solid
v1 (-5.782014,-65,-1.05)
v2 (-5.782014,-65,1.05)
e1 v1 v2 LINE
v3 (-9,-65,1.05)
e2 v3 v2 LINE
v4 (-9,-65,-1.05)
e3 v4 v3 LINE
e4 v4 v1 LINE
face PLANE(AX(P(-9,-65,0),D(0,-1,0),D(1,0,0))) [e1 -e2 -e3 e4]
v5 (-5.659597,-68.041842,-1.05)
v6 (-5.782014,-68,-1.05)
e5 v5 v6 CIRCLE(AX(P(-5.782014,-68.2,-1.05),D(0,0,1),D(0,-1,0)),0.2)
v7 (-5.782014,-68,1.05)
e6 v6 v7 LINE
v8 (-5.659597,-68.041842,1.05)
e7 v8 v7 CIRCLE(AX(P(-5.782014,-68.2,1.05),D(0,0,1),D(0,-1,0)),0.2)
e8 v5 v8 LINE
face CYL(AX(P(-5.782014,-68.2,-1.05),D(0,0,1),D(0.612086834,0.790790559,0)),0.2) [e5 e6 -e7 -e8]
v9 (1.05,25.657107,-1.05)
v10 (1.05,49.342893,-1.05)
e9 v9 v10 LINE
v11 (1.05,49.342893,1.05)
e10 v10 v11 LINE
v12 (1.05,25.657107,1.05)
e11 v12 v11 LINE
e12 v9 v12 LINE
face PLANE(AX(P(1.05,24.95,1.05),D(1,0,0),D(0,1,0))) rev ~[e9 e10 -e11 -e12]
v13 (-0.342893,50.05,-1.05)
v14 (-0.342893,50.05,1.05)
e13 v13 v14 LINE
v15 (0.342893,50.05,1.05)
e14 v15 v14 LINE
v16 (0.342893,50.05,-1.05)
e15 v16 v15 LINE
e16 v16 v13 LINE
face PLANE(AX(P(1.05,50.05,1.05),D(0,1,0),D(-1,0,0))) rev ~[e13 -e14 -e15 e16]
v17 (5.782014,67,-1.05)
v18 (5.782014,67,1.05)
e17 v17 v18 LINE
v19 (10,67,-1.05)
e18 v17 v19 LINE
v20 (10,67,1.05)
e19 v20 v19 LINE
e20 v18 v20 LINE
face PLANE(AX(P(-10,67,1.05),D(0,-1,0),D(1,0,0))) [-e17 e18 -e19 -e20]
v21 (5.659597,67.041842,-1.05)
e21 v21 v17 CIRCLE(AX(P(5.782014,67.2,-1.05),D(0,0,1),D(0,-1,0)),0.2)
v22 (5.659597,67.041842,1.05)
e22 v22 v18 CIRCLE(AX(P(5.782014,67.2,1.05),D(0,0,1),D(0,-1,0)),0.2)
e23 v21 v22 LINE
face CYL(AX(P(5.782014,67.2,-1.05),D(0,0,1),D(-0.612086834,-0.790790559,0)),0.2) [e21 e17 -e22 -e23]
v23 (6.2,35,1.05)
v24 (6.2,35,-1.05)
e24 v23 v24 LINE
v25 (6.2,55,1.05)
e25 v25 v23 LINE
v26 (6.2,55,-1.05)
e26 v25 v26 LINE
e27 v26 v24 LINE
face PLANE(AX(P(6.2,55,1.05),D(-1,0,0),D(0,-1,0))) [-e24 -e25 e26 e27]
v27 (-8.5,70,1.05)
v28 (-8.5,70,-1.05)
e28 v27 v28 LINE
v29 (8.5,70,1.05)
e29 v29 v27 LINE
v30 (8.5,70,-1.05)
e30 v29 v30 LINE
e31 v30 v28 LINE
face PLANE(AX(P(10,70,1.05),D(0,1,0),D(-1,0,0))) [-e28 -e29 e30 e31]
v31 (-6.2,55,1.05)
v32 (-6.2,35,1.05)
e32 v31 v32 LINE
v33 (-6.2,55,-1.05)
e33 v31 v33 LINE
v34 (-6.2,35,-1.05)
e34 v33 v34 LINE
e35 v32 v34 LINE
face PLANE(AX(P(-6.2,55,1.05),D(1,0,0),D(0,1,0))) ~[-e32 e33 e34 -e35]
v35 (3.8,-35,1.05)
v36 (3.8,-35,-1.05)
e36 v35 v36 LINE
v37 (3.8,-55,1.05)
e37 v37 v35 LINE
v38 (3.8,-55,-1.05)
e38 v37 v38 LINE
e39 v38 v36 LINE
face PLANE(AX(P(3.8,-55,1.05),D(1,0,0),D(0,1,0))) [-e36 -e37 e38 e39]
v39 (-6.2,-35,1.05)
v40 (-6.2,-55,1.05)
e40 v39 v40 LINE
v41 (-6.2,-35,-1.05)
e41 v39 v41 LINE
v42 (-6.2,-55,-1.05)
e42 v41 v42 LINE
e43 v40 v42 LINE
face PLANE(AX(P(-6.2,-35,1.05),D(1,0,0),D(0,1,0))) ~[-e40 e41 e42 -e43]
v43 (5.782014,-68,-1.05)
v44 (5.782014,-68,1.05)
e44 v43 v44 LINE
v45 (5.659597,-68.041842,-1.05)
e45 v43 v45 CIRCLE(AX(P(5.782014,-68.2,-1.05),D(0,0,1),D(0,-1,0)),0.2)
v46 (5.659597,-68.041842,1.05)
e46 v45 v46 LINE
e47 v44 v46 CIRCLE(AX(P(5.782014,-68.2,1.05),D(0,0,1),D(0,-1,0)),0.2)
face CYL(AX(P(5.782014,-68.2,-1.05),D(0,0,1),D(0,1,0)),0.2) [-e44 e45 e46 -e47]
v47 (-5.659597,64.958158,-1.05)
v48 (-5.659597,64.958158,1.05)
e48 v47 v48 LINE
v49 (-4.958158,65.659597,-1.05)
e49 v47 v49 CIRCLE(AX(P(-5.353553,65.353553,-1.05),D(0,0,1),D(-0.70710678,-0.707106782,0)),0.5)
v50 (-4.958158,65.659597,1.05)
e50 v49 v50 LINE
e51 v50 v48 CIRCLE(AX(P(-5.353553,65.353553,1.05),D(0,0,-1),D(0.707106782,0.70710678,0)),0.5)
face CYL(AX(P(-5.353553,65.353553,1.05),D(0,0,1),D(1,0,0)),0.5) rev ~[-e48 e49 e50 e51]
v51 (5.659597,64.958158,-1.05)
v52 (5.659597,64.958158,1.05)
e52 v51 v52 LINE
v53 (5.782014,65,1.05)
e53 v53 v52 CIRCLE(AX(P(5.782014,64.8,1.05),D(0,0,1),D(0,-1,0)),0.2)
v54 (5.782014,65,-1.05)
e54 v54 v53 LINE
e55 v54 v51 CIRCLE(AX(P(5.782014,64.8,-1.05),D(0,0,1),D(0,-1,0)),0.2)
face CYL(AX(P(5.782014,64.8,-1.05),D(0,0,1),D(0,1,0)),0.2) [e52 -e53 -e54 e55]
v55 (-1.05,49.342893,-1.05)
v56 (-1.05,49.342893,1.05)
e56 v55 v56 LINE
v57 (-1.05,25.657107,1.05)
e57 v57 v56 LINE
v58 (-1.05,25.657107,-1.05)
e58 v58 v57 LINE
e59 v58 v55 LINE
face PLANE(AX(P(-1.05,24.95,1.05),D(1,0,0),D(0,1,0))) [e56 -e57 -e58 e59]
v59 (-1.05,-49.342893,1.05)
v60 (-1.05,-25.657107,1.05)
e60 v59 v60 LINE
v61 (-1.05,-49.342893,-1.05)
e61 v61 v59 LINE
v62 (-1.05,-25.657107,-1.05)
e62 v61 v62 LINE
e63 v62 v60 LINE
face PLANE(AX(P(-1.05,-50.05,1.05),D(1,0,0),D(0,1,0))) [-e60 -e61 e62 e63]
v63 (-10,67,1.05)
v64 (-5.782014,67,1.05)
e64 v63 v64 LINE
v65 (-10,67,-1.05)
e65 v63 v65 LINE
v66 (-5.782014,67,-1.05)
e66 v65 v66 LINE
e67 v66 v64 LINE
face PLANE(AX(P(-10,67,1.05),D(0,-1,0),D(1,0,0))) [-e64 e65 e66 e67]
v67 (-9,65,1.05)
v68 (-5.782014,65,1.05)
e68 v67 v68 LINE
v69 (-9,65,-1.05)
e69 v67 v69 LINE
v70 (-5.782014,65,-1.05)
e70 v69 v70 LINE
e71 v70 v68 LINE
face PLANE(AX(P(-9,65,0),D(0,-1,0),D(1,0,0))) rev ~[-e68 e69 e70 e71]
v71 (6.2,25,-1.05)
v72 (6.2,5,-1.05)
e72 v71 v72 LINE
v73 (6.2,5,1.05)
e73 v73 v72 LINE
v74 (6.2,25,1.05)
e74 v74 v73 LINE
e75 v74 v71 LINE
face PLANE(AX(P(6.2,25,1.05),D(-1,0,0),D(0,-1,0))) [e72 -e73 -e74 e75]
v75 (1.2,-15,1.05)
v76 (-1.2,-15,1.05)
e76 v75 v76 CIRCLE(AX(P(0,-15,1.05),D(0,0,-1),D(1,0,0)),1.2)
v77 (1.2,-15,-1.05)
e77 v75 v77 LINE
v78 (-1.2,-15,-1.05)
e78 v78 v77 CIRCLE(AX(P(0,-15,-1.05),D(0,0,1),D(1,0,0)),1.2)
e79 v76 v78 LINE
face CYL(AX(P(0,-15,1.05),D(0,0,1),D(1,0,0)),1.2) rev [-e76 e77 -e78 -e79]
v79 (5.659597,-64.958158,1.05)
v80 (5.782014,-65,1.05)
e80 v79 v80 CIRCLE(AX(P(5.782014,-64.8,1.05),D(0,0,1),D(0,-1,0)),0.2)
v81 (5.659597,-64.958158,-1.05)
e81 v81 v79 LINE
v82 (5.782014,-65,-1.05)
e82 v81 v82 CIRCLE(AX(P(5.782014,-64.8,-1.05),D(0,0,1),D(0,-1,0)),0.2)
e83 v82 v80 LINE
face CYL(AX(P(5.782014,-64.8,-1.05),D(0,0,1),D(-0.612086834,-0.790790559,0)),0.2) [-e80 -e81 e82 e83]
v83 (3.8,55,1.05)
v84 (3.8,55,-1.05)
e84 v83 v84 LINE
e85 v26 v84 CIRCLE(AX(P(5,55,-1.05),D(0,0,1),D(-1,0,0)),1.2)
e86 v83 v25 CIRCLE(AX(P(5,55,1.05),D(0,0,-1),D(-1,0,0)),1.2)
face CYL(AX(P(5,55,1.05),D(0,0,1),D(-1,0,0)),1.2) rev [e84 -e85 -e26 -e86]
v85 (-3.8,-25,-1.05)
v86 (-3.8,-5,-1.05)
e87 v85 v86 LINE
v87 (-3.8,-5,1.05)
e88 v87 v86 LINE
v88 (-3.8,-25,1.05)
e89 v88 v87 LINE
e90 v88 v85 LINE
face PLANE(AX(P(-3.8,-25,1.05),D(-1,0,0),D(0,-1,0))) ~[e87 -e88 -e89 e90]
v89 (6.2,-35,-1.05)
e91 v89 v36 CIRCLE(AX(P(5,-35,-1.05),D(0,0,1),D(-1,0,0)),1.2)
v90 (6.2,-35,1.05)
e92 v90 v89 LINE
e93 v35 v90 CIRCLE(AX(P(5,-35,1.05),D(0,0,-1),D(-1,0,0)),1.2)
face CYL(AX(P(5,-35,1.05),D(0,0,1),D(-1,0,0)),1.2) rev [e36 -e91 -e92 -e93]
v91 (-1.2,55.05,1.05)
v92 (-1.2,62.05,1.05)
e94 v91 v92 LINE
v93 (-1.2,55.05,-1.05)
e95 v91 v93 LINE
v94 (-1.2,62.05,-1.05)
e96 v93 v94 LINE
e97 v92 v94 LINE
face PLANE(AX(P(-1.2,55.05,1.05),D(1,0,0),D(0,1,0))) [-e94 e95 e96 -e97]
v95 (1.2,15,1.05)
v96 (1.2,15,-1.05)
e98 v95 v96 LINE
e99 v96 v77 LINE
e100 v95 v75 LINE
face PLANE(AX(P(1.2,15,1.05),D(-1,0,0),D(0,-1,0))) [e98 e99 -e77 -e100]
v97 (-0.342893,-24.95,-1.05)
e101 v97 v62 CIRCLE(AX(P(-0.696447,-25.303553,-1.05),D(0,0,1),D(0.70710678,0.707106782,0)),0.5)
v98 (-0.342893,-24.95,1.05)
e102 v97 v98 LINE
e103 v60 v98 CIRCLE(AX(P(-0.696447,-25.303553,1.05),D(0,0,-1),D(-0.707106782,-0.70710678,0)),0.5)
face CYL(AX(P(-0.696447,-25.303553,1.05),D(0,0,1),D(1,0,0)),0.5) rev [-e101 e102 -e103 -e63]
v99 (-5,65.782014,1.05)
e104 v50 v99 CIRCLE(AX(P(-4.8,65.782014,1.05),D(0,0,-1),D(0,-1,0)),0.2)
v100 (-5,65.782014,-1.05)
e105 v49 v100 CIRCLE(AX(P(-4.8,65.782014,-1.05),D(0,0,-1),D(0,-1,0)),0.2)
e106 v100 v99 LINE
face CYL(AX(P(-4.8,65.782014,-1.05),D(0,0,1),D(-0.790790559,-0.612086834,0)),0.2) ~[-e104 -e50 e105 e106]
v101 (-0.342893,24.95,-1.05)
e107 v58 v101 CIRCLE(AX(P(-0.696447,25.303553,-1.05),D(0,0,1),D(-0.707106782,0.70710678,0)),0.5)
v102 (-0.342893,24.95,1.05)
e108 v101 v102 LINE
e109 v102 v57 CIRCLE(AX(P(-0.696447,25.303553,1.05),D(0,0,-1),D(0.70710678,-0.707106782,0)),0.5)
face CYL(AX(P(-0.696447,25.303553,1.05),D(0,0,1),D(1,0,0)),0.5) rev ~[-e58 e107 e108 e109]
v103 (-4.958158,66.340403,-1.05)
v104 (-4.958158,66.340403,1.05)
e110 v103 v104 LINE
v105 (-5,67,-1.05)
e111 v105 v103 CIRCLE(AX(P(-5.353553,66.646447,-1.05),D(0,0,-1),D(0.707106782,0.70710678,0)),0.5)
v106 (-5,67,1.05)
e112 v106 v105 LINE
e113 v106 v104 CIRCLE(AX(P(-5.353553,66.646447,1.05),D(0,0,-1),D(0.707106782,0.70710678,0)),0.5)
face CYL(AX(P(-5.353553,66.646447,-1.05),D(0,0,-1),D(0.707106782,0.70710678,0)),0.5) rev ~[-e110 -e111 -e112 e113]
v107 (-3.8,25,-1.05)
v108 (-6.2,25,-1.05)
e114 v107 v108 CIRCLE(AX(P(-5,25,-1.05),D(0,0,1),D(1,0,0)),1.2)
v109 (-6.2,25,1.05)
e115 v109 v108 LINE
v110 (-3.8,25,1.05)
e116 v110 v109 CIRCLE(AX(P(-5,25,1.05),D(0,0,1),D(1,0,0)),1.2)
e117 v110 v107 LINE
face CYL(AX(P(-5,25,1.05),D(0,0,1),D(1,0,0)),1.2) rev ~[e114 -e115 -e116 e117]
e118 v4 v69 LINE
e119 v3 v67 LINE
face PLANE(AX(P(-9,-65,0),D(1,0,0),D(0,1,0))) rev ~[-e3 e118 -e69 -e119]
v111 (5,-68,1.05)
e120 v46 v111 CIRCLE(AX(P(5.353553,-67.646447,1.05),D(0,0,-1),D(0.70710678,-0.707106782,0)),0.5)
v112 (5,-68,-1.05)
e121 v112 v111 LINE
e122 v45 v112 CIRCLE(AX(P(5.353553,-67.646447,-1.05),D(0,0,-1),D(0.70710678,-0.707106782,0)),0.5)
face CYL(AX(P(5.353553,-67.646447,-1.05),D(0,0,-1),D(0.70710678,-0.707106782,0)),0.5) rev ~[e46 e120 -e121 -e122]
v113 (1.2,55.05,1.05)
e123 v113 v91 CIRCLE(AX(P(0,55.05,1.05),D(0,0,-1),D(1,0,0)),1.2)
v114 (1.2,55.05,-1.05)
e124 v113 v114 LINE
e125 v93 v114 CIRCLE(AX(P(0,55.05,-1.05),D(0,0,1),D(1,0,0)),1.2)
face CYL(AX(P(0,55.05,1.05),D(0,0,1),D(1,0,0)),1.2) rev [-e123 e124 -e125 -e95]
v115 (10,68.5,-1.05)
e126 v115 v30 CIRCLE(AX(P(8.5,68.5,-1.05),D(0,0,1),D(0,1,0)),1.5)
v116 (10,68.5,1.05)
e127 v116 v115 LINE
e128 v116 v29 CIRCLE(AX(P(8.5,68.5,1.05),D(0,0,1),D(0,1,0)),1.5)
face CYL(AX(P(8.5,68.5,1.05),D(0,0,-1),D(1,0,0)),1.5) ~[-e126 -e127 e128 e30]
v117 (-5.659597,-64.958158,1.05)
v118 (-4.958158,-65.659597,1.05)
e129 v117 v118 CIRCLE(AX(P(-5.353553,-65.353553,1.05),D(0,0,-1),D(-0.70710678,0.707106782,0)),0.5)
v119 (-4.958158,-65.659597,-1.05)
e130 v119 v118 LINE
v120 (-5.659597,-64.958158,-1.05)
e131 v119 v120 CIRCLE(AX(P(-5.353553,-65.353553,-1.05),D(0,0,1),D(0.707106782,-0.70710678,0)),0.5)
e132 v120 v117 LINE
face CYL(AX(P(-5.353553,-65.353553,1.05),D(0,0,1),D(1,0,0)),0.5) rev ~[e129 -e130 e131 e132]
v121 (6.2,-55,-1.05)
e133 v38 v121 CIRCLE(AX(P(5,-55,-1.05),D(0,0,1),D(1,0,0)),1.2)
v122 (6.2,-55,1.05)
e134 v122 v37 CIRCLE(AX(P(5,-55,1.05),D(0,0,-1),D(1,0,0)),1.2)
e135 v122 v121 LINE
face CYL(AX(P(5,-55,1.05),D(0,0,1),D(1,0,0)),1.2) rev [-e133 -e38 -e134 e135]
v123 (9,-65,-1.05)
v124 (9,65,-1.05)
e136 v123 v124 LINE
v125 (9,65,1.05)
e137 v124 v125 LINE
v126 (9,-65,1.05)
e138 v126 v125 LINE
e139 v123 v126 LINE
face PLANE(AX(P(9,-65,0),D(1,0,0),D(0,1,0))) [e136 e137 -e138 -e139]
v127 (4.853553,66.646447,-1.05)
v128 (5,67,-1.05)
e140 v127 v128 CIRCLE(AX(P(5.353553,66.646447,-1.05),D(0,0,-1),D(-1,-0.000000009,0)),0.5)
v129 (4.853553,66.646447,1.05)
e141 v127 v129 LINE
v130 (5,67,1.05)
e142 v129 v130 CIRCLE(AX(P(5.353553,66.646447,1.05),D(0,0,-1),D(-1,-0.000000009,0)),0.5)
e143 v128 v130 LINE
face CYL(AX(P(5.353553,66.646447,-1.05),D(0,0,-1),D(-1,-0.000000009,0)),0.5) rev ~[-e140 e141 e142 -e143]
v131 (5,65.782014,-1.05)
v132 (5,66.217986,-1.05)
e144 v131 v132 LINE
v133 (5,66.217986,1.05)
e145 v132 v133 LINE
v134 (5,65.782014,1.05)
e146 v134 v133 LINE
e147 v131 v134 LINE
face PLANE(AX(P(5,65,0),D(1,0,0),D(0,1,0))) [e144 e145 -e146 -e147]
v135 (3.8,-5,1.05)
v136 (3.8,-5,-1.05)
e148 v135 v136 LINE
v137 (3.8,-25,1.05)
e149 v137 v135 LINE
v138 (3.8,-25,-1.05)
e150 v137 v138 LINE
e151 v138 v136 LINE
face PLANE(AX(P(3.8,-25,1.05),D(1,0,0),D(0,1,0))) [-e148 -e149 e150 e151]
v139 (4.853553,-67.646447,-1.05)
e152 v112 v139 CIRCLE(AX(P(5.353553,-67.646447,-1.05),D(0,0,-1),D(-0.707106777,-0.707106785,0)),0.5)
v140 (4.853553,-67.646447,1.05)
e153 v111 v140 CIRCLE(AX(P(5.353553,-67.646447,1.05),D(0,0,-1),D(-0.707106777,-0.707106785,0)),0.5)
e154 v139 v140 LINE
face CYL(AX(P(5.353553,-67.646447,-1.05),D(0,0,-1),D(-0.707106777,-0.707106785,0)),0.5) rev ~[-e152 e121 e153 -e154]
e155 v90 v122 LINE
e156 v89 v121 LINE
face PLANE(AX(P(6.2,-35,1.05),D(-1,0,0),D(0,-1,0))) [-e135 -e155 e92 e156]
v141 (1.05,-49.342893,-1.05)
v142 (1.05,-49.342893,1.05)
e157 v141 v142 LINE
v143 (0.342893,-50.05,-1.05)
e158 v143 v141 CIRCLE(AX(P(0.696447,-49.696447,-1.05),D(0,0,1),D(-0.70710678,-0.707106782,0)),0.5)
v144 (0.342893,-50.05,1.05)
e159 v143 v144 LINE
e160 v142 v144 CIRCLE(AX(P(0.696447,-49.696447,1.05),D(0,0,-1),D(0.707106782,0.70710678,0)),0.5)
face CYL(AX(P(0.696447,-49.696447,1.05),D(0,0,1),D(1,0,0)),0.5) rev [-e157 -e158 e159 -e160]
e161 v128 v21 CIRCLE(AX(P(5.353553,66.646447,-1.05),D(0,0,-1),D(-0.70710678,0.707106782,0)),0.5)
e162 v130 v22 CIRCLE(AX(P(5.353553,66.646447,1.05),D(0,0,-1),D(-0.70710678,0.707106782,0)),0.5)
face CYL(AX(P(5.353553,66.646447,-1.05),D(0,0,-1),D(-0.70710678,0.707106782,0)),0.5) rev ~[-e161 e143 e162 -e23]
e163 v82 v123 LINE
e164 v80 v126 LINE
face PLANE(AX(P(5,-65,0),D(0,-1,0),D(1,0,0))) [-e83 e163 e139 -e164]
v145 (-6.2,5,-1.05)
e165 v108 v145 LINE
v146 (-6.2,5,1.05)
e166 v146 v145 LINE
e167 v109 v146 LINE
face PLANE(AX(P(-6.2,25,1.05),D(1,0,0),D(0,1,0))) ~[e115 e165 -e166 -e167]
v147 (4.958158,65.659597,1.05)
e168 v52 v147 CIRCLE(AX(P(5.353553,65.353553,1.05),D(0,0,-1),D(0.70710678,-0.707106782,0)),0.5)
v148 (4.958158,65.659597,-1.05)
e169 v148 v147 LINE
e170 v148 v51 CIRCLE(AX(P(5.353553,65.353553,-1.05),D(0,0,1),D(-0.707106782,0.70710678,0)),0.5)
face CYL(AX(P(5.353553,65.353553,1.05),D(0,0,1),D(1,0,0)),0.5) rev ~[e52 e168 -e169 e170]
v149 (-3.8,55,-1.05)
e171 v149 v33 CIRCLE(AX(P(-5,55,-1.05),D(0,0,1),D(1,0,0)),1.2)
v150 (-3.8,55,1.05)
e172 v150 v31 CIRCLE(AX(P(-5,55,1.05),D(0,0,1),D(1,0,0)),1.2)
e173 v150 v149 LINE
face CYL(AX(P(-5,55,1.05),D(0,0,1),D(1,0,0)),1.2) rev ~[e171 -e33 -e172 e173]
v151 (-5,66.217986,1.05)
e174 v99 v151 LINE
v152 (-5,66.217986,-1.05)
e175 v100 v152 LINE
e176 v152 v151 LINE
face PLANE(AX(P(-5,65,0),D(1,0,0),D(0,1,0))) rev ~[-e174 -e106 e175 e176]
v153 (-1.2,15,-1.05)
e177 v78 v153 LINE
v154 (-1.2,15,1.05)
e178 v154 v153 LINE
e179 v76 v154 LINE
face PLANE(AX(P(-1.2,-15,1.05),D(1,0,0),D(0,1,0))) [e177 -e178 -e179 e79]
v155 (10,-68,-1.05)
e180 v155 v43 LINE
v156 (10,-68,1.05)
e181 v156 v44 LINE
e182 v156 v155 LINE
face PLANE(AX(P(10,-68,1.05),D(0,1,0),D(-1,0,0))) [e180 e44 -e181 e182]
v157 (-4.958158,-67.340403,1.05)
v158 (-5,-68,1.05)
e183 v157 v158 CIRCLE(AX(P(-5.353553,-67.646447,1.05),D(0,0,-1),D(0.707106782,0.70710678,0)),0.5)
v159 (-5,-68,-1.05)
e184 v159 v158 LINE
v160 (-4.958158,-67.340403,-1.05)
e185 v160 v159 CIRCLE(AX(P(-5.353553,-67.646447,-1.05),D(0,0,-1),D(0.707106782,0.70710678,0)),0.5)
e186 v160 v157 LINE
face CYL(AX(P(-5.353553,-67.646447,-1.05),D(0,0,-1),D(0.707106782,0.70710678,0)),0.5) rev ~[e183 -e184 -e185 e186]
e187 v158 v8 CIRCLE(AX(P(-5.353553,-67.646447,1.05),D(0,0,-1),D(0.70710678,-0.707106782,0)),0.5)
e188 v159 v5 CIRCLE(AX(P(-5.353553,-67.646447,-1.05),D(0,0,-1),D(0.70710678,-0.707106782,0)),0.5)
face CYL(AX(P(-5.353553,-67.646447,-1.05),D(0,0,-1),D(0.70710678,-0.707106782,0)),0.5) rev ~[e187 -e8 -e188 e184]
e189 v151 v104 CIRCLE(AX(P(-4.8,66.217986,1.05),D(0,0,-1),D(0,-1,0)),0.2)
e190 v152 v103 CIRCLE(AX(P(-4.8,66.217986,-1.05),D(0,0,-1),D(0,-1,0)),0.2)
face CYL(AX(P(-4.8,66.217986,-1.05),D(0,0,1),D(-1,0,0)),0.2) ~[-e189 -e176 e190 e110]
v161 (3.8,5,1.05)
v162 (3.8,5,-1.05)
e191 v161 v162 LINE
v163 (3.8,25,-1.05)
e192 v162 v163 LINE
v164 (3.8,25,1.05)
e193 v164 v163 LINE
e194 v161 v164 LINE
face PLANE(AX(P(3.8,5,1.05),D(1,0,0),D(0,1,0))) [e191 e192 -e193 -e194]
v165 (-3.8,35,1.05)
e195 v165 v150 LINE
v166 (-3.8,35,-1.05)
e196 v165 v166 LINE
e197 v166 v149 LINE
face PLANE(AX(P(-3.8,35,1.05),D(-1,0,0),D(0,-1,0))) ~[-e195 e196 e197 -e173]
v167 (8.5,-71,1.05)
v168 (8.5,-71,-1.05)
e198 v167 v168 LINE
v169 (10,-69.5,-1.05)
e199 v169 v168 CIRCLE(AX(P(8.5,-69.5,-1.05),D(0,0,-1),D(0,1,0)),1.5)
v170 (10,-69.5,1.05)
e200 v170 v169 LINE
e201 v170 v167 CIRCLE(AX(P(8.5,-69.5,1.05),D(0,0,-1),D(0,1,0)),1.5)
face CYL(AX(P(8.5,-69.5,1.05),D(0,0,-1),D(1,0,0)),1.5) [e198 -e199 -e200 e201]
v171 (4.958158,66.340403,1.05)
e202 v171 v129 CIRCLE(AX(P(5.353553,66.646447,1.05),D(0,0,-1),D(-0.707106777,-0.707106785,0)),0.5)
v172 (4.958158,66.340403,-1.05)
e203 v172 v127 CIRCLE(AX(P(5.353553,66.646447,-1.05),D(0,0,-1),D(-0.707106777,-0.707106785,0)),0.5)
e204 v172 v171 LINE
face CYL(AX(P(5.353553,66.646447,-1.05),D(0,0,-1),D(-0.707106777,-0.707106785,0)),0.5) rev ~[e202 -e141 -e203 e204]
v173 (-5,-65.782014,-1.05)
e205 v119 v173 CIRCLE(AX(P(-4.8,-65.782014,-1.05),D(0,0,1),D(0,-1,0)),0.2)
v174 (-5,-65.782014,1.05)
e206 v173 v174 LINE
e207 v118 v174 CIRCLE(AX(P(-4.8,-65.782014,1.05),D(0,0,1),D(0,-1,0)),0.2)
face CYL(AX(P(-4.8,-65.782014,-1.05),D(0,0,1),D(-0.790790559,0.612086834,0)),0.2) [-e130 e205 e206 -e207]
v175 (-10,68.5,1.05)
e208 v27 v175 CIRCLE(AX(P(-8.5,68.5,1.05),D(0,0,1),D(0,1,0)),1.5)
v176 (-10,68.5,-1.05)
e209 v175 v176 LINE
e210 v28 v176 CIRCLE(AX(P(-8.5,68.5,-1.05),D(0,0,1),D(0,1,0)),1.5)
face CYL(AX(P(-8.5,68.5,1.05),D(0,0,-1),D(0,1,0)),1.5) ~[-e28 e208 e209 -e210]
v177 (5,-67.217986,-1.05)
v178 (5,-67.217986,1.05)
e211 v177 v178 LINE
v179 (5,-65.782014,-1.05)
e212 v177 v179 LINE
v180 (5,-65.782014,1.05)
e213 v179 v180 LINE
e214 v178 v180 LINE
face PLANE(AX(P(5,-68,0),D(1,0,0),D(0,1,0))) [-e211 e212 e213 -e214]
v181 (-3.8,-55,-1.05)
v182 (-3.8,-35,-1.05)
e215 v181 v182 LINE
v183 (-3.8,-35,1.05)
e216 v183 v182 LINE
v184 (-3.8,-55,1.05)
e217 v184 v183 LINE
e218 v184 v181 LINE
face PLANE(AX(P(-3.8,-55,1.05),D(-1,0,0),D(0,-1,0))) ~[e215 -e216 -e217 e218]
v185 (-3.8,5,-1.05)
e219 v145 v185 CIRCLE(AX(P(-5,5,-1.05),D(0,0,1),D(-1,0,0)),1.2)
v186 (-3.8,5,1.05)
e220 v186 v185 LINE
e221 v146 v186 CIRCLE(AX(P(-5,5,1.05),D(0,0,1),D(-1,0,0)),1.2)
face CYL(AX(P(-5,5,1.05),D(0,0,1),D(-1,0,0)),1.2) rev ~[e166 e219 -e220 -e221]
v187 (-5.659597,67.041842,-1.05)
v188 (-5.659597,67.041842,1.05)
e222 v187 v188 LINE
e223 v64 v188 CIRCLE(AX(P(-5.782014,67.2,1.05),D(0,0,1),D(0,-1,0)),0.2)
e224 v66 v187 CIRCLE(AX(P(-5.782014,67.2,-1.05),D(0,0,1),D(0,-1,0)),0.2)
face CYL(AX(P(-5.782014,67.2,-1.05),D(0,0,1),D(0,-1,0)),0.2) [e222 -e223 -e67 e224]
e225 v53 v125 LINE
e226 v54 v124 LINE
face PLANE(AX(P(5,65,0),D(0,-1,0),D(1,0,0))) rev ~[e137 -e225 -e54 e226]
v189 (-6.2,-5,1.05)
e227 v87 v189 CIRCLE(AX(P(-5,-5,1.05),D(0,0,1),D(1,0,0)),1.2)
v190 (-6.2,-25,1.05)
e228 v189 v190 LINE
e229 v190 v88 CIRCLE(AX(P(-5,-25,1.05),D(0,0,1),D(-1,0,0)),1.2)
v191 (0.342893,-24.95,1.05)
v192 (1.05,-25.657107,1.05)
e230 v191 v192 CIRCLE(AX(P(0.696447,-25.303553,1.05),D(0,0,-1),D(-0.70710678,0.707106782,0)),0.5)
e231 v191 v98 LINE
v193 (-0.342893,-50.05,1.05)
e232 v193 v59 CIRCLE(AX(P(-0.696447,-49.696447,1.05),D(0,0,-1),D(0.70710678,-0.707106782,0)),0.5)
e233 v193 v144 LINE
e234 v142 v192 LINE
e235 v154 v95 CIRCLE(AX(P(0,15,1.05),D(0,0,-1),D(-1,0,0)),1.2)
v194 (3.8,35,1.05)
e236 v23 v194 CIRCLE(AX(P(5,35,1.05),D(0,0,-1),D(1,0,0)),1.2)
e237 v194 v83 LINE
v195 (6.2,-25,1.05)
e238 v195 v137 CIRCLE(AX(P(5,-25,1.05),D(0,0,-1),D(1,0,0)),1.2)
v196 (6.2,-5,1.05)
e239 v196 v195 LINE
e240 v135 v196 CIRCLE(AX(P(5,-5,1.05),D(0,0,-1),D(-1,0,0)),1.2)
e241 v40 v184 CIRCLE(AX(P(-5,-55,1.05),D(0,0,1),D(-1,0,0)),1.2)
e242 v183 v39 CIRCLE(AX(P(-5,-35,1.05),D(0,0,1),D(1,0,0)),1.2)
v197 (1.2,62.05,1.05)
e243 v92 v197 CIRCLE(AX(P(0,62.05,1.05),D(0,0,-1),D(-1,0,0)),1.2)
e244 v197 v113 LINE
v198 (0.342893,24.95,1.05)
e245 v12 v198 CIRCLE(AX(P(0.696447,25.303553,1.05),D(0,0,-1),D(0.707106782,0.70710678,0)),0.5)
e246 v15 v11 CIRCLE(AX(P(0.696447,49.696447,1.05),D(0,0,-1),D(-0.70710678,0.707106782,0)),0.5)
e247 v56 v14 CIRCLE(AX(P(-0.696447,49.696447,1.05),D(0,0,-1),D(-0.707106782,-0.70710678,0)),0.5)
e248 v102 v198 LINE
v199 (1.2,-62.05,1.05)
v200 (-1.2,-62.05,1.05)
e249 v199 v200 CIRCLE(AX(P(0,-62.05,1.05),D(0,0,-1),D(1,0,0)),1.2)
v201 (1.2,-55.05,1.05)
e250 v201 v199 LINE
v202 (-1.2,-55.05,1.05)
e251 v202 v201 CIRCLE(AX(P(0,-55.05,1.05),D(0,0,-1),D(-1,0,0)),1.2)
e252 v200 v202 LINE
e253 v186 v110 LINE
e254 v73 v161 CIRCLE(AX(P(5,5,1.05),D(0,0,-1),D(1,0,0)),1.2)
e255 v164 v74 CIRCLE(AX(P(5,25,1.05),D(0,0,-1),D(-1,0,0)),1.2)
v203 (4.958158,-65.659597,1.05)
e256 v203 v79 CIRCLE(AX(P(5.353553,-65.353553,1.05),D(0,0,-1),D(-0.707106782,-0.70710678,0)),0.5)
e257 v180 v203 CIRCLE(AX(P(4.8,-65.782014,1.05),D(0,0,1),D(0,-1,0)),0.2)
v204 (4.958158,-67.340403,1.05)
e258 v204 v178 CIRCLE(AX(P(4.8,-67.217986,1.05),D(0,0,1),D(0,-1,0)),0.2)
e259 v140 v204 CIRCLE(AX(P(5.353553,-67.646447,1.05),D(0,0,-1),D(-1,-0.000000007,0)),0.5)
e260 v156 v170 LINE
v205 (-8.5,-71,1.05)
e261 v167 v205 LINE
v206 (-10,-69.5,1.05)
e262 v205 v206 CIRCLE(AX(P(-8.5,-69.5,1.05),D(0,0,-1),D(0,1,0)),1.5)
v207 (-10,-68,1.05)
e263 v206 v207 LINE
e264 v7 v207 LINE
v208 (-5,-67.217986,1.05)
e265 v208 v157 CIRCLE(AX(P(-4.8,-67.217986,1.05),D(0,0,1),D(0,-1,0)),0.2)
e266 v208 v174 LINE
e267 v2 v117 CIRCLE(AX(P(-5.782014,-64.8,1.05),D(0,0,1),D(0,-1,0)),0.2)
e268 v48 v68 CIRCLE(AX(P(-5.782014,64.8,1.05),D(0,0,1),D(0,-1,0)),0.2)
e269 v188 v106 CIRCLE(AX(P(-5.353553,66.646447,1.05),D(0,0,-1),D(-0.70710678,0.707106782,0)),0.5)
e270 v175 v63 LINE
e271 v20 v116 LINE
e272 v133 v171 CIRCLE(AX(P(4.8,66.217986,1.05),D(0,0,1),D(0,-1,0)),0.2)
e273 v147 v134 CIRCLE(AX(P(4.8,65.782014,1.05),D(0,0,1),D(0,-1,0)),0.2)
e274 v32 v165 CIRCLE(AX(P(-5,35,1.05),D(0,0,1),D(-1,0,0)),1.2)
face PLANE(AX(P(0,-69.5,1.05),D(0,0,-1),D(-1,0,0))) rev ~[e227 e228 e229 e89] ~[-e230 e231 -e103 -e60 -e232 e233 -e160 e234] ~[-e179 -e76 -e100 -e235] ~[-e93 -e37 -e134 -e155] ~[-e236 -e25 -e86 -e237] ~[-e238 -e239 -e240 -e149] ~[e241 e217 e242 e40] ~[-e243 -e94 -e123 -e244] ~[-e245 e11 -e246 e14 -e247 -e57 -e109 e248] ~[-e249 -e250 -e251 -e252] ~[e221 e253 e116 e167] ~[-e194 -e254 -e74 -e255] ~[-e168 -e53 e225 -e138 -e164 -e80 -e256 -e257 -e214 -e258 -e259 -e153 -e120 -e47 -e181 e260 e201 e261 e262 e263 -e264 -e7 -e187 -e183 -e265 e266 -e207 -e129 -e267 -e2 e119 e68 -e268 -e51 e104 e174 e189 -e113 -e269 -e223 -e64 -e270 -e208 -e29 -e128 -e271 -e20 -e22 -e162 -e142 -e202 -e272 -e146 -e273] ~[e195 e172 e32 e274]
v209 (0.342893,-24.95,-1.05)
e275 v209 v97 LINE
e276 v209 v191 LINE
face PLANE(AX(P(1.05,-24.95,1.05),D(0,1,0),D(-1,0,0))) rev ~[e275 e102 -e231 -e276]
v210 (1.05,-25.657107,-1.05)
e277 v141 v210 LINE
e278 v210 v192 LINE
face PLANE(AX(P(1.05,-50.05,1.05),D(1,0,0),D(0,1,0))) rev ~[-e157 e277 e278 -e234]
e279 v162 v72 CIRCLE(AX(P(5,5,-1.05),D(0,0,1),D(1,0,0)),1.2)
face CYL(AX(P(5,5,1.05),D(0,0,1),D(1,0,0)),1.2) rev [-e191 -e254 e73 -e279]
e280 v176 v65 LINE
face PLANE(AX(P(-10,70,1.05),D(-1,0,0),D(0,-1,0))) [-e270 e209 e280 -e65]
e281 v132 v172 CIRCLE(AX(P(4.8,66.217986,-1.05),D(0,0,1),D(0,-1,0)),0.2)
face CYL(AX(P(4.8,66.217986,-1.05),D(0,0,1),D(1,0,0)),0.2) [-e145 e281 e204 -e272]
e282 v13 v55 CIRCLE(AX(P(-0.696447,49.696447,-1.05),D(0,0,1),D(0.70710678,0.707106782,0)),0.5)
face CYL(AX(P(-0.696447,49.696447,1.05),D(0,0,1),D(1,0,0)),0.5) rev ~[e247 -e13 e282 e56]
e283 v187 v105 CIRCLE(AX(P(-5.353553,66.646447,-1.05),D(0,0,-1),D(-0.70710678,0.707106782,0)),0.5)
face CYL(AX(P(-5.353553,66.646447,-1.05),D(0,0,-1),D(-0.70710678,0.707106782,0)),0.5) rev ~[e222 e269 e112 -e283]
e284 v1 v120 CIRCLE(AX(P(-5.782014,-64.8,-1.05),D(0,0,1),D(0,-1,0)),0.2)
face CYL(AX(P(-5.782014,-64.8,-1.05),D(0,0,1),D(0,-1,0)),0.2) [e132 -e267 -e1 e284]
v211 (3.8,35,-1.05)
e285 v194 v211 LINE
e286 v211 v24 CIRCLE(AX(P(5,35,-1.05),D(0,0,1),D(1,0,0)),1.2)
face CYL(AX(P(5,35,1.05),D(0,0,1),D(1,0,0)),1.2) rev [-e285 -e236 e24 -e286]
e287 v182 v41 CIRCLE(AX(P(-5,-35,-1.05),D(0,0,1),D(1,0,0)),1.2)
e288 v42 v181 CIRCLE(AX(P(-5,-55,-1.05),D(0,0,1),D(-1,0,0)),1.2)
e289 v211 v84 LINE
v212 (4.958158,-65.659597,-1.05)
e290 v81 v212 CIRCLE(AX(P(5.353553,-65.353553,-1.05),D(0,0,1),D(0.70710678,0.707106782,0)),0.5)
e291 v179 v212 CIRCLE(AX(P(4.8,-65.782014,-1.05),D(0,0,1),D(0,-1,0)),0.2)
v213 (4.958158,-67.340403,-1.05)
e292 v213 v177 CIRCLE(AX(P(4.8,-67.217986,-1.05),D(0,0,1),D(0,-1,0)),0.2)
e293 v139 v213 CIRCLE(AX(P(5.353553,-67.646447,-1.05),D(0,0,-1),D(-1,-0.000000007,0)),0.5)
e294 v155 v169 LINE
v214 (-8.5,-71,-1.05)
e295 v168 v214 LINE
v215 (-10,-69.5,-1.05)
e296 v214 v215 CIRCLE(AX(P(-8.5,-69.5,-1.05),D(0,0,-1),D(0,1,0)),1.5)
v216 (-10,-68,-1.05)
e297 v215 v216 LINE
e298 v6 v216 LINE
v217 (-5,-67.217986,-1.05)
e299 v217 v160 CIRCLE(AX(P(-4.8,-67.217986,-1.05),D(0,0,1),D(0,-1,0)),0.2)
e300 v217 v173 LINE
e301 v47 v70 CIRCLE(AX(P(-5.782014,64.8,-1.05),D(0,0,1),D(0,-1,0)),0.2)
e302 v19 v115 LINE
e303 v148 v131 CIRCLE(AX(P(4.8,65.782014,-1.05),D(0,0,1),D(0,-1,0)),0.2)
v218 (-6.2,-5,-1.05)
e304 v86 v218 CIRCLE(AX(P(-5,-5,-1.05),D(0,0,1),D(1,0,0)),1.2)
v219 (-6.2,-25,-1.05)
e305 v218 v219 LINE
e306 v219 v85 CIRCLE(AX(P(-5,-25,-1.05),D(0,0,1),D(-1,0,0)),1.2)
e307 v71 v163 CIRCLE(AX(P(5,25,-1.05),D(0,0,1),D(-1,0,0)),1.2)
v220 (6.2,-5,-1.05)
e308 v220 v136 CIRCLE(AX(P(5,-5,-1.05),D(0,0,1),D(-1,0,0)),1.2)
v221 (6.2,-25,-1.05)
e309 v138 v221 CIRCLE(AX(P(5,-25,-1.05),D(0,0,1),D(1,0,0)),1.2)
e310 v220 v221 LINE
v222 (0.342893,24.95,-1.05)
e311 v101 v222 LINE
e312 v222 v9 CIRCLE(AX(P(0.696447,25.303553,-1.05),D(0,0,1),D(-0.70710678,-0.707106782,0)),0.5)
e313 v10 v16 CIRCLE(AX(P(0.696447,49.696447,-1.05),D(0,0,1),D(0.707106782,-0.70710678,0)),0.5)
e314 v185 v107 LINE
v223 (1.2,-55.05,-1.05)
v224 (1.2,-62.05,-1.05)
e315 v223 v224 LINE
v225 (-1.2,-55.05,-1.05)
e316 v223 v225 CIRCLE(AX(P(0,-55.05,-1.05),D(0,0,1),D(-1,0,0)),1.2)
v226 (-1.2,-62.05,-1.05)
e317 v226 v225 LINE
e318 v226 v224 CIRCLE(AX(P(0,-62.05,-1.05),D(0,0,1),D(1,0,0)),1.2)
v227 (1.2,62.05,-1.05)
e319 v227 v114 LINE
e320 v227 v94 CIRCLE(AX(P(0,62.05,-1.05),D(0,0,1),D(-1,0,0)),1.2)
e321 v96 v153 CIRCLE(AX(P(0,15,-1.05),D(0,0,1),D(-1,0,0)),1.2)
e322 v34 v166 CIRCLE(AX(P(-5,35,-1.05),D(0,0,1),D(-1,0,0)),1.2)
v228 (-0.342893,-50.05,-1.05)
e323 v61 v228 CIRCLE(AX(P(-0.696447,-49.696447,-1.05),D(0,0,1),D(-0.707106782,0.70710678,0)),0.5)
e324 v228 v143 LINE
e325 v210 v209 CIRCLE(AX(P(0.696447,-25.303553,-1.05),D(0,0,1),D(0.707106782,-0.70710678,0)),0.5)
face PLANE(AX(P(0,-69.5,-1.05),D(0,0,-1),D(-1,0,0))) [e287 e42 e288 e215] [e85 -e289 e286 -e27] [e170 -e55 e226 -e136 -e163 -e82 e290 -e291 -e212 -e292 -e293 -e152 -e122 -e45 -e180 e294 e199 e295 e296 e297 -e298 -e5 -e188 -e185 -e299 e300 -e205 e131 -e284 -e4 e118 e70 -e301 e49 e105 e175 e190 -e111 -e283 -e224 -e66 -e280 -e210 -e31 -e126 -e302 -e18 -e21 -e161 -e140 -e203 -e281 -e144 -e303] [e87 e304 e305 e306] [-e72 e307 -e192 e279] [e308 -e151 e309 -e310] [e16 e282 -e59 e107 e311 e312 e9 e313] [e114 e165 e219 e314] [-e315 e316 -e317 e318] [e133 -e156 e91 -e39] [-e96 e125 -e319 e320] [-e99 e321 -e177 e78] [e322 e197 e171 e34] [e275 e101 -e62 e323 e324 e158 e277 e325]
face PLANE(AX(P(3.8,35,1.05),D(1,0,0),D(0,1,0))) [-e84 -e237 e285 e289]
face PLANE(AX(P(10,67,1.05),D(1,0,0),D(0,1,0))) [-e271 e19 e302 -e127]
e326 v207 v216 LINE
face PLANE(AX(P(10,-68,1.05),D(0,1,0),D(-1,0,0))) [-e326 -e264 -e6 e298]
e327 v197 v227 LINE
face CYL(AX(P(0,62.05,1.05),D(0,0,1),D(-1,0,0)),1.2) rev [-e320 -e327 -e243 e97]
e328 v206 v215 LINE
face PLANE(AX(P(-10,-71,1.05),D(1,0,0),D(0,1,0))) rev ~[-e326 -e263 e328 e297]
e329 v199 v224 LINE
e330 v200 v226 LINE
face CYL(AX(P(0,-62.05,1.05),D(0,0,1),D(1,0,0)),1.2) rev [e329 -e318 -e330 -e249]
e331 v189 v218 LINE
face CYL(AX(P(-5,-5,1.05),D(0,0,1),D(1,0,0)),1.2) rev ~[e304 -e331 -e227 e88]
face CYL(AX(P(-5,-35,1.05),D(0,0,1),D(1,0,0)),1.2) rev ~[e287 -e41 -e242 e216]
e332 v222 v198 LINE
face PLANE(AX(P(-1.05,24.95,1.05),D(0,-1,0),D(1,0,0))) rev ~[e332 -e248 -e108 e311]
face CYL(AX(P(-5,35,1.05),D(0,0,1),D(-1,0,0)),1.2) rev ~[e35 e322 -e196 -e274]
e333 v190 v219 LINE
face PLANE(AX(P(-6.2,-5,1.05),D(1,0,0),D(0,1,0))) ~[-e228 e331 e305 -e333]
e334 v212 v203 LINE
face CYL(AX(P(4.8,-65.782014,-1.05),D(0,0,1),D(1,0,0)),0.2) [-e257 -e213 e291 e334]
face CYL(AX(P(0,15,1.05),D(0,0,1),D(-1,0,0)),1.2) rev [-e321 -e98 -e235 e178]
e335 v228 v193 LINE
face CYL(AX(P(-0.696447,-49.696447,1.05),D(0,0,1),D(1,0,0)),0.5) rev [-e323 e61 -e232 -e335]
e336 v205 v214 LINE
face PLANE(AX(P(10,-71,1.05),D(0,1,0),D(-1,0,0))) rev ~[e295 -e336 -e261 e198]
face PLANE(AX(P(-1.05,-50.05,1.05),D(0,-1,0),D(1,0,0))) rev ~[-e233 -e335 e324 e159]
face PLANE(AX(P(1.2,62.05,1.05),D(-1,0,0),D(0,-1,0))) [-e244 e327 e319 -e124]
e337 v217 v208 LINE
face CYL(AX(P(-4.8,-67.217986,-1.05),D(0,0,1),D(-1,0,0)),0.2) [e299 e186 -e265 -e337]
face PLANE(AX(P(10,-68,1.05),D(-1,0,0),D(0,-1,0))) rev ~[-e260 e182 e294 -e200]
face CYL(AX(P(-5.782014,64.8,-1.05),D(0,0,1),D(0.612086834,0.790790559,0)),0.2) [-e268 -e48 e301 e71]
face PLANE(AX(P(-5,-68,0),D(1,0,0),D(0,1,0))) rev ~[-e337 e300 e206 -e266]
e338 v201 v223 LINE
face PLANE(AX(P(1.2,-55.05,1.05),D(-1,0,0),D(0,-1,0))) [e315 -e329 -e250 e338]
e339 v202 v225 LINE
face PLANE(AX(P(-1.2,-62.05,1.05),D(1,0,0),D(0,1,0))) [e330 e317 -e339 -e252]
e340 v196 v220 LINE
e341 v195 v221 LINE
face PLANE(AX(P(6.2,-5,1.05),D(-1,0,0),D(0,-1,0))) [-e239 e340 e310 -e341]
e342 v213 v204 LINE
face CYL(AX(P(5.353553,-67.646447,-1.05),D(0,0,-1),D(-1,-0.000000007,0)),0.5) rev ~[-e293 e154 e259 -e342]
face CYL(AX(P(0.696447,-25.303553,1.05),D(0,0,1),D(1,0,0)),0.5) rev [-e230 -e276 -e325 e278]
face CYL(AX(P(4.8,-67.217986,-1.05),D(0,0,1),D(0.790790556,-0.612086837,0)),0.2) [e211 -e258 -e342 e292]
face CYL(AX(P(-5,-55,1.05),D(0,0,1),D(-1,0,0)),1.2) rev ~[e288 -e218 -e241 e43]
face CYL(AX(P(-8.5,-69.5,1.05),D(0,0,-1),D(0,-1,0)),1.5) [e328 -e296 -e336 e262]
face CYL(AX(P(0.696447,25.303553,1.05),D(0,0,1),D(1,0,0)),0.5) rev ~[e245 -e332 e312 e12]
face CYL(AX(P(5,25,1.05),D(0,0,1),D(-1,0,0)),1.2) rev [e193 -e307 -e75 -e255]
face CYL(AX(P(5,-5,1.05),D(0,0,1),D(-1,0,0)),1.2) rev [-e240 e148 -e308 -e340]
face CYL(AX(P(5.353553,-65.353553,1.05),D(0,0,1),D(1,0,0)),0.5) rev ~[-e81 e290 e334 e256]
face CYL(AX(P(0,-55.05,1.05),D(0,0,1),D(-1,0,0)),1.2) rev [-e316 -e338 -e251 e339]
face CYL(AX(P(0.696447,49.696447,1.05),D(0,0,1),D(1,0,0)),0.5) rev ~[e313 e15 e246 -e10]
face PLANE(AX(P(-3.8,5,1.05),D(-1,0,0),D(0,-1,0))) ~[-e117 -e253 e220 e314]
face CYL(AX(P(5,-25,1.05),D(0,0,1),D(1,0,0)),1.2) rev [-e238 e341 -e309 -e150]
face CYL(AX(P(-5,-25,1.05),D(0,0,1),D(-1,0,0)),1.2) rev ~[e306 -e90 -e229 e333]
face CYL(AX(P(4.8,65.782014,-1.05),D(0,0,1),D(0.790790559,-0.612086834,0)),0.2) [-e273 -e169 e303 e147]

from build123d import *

# Parameters (mm, degrees)
SKETCH_1_W          = 18
SKETCH_1_H          = 130
SKETCH_1_W_2        = 5
SKETCH_1_H_2        = 2
SKETCH_1_H_3        = 3
EXTRUDE_1_DEPTH     = 1.05
SKETCH_5_R          = 0.5
CUT_EXTRUDE_3_DEPTH = 69.625141166
SKETCH_2_W          = 1.05
SKETCH_2_H          = 25.1
CUT_EXTRUDE_1_DEPTH = 10
SKETCH_6_R          = 0.5
CUT_EXTRUDE_4_DEPTH = 69.625141166
CUT_EXTRUDE_5_DEPTH = 69.625141166
CUT_EXTRUDE_6_DEPTH = 69.625141166
EXTRUDE_2_DEPTH     = 2.1
CUT_EXTRUDE_7_DEPTH = 72.731513298
FILLET_1_R          = 0.2
FILLET_2_R          = 1.5
FILLET_3_R          = 0.2


with BuildPart() as part:
    # 草图1 → 凸台-拉伸1 (new, symmetric)
    with BuildSketch(Plane.XY):
        Rectangle(SKETCH_1_W, SKETCH_1_H)
        with Locations((-2.5, 66)):
            Rectangle(SKETCH_1_W_2, SKETCH_1_H_2)
        with Locations((2.5, 66)):
            Rectangle(SKETCH_1_W_2, SKETCH_1_H_2)
        with Locations((2.5, -66.5)):
            Rectangle(SKETCH_1_W_2, SKETCH_1_H_3)
        with Locations((-2.5, -66.5)):
            Rectangle(SKETCH_1_W_2, SKETCH_1_H_3)
    extrude(amount=EXTRUDE_1_DEPTH, both=True)

    # 草图5 → 切除-拉伸3 (cut, through all)
    with BuildSketch(Plane.XY.offset(1.05)):
        with Locations((5.353553391, 65.353553391)):
            Circle(SKETCH_5_R)
        with Locations((-5.353553391, 65.353553391)):
            Circle(SKETCH_5_R)
        with Locations((5.353553391, -65.353553391)):
            Circle(SKETCH_5_R)
        with Locations((-5.353553391, -65.353553391)):
            Circle(SKETCH_5_R)
    extrude(amount=-CUT_EXTRUDE_3_DEPTH, mode=Mode.SUBTRACT)

    # 草图2 → 切除-拉伸1 (cut)
    with BuildSketch(Plane.XY.offset(1.05)):
        with Locations((0.525, 37.5)):
            Rectangle(SKETCH_2_W, SKETCH_2_H)
        with Locations((-0.525, 37.5)):
            Rectangle(SKETCH_2_W, SKETCH_2_H)
        with Locations((0.525, -37.5)):
            Rectangle(SKETCH_2_W, SKETCH_2_H)
        with Locations((-0.525, -37.5)):
            Rectangle(SKETCH_2_W, SKETCH_2_H)
    extrude(amount=-CUT_EXTRUDE_1_DEPTH, mode=Mode.SUBTRACT)

    # 草图6 → 切除-拉伸4 (cut, through all)
    with BuildSketch(Plane.XY.offset(1.05)):
        with Locations((0.696446609, 49.696446609)):
            Circle(SKETCH_6_R)
        with Locations((-0.696446609, 49.696446609)):
            Circle(SKETCH_6_R)
        with Locations((0.696446609, 25.303553391)):
            Circle(SKETCH_6_R)
        with Locations((-0.696446609, 25.303553391)):
            Circle(SKETCH_6_R)
    cut_extrude_4 = extrude(amount=-CUT_EXTRUDE_4_DEPTH, mode=Mode.SUBTRACT)

    # 镜向1: 切除-拉伸4 across plane
    add(cut_extrude_4.mirror(Plane.ZX), mode=Mode.SUBTRACT)

    # 草图4 → 切除-拉伸5 (cut, through all)
    with BuildSketch(Plane.XY.offset(1.05)):
        with BuildLine():
            Line((6.2, 55), (6.2, 35))
            ThreePointArc((6.2, 35), (5, 33.8), (3.8, 35))
            Line((3.8, 35), (3.8, 55))
            ThreePointArc((3.8, 55), (5, 56.2), (6.2, 55))
        make_face()
        with BuildLine():
            Line((6.2, 25), (6.2, 5))
            ThreePointArc((6.2, 5), (5, 3.8), (3.8, 5))
            Line((3.8, 5), (3.8, 25))
            ThreePointArc((3.8, 25), (5, 26.2), (6.2, 25))
        make_face()
        with BuildLine():
            Line((6.2, -5), (6.2, -25))
            ThreePointArc((6.2, -25), (5, -26.2), (3.8, -25))
            Line((3.8, -25), (3.8, -5))
            ThreePointArc((3.8, -5), (5, -3.8), (6.2, -5))
        make_face()
        with BuildLine():
            Line((3.8, -55), (3.8, -35))
            ThreePointArc((3.8, -35), (5, -33.8), (6.2, -35))
            Line((6.2, -35), (6.2, -55))
            ThreePointArc((6.2, -55), (5, -56.2), (3.8, -55))
        make_face()
    cut_extrude_5 = extrude(amount=-CUT_EXTRUDE_5_DEPTH, mode=Mode.SUBTRACT)

    # 镜向2: 切除-拉伸5 across plane
    add(cut_extrude_5.mirror(Plane(origin=(0, 0, 0), x_dir=(0, 0, 1), z_dir=(1, 0, 0))), mode=Mode.SUBTRACT)

    # 草图7 → 切除-拉伸6 (cut, through all)
    with BuildSketch(Plane.XY.offset(1.05)):
        with BuildLine():
            Line((1.2, 62.05), (1.2, 55.05))
            ThreePointArc((1.2, 55.05), (0, 53.85), (-1.2, 55.05))
            Line((-1.2, 55.05), (-1.2, 62.05))
            ThreePointArc((-1.2, 62.05), (0, 63.25), (1.2, 62.05))
        make_face()
        with BuildLine():
            Line((1.2, 15), (1.2, -15))
            ThreePointArc((1.2, -15), (0, -16.2), (-1.2, -15))
            Line((-1.2, -15), (-1.2, 15))
            ThreePointArc((-1.2, 15), (0, 16.2), (1.2, 15))
        make_face()
        with BuildLine():
            Line((1.2, -55.05), (1.2, -62.05))
            ThreePointArc((1.2, -62.05), (0, -63.25), (-1.2, -62.05))
            Line((-1.2, -62.05), (-1.2, -55.05))
            ThreePointArc((-1.2, -55.05), (0, -53.85), (1.2, -55.05))
        make_face()
    extrude(amount=-CUT_EXTRUDE_6_DEPTH, mode=Mode.SUBTRACT)

    # 草图8 → 凸台-拉伸2 (add)
    with BuildSketch(Plane.XY.offset(1.05)):
        Polygon((5, -68), (10, -68), (10, -71), (-10, -71), (-10, -68), (-5, -68), align=None)
        Polygon((5, 67), (10, 67), (10, 70), (-10, 70), (-10, 67), (-5, 67), align=None)
    extrude(amount=-EXTRUDE_2_DEPTH)

    # 草图9 → 切除-拉伸7 (cut, through all)
    with BuildSketch(Plane(origin=(0, 0, -1.05), x_dir=(-1, 0, 0), z_dir=(0, 0, -1))):
        with BuildLine():
            ThreePointArc((-4.853553391, -67.646446609), (-4.891613624, -67.455104893), (-5, -67.292893219))
            Line((-5, -67.292893219), (-5, -68))
            ThreePointArc((-5, -68), (-4.891613624, -67.837788326), (-4.853553391, -67.646446609))
        make_face()
        with BuildLine():
            ThreePointArc((-5.707106781, -68), (-5.353553391, -68.146446609), (-5, -68))
            Line((-5, -68), (-5.707106781, -68))
        make_face()
        with BuildLine():
            ThreePointArc((5, -67.292893219), (4.853553391, -67.646446609), (5, -68))
            Line((5, -68), (5, -67.292893219))
        make_face()
        with BuildLine():
            ThreePointArc((5, -68), (5.353553391, -68.146446609), (5.707106781, -68))
            Line((5.707106781, -68), (5, -68))
        make_face()
        with BuildLine():
            Line((5, 67), (5.707106781, 67))
            ThreePointArc((5.707106781, 67), (5.353553391, 67.146446609), (5, 67))
        make_face()
        with BuildLine():
            Line((5, 66.292893219), (5, 67))
            ThreePointArc((5, 67), (4.853553391, 66.646446609), (5, 66.292893219))
        make_face()
        with BuildLine():
            Line((-5, 67), (-5, 66.292893219))
            ThreePointArc((-5, 66.292893219), (-4.891613624, 66.455104893), (-4.853553391, 66.646446609))
            ThreePointArc((-4.853553391, 66.646446609), (-4.891613624, 66.837788326), (-5, 67))
        make_face()
        with BuildLine():
            Line((-5.707106781, 67), (-5, 67))
            ThreePointArc((-5, 67), (-5.353553391, 67.146446609), (-5.707106781, 67))
        make_face()
    extrude(amount=-CUT_EXTRUDE_7_DEPTH, mode=Mode.SUBTRACT)

    # 圆角1
    fillet_1_edges = [part.edges().sort_by_distance(p)[0] for p in [
        (5.707106781, 67, 0),
        (-5.707106781, 67, 0),
        (-5.707106781, -68, 0),
        (5, -67.292893219, 0),
        (5.707106781, -68, 0),
        (-5, -67.292893219, 0),
        (-5.707106781, -65, 0),
        (-5, -65.707106781, 0),
        (5, -65.707106781, 0),
        (5.707106781, -65, 0),
        (5.707106781, 65, 0),
        (-5.707106781, 65, 0),
    ]]
    fillet(fillet_1_edges, radius=FILLET_1_R)

    # 圆角2
    fillet_2_edges = [part.edges().sort_by_distance(p)[0] for p in [
        (10, -71, 0),
        (-10, -71, 0),
        (-10, 70, 0),
        (10, 70, 0),
    ]]
    fillet(fillet_2_edges, radius=FILLET_2_R)

    # 圆角3
    fillet_3_edges = [part.edges().sort_by_distance(p)[0] for p in [
        (-5, 66.292893219, 0),
        (5, 66.292893219, 0),
        (5, 65.707106781, 0),
        (-5, 65.707106781, 0),
    ]]
    fillet(fillet_3_edges, radius=FILLET_3_R)


solid = part.part
